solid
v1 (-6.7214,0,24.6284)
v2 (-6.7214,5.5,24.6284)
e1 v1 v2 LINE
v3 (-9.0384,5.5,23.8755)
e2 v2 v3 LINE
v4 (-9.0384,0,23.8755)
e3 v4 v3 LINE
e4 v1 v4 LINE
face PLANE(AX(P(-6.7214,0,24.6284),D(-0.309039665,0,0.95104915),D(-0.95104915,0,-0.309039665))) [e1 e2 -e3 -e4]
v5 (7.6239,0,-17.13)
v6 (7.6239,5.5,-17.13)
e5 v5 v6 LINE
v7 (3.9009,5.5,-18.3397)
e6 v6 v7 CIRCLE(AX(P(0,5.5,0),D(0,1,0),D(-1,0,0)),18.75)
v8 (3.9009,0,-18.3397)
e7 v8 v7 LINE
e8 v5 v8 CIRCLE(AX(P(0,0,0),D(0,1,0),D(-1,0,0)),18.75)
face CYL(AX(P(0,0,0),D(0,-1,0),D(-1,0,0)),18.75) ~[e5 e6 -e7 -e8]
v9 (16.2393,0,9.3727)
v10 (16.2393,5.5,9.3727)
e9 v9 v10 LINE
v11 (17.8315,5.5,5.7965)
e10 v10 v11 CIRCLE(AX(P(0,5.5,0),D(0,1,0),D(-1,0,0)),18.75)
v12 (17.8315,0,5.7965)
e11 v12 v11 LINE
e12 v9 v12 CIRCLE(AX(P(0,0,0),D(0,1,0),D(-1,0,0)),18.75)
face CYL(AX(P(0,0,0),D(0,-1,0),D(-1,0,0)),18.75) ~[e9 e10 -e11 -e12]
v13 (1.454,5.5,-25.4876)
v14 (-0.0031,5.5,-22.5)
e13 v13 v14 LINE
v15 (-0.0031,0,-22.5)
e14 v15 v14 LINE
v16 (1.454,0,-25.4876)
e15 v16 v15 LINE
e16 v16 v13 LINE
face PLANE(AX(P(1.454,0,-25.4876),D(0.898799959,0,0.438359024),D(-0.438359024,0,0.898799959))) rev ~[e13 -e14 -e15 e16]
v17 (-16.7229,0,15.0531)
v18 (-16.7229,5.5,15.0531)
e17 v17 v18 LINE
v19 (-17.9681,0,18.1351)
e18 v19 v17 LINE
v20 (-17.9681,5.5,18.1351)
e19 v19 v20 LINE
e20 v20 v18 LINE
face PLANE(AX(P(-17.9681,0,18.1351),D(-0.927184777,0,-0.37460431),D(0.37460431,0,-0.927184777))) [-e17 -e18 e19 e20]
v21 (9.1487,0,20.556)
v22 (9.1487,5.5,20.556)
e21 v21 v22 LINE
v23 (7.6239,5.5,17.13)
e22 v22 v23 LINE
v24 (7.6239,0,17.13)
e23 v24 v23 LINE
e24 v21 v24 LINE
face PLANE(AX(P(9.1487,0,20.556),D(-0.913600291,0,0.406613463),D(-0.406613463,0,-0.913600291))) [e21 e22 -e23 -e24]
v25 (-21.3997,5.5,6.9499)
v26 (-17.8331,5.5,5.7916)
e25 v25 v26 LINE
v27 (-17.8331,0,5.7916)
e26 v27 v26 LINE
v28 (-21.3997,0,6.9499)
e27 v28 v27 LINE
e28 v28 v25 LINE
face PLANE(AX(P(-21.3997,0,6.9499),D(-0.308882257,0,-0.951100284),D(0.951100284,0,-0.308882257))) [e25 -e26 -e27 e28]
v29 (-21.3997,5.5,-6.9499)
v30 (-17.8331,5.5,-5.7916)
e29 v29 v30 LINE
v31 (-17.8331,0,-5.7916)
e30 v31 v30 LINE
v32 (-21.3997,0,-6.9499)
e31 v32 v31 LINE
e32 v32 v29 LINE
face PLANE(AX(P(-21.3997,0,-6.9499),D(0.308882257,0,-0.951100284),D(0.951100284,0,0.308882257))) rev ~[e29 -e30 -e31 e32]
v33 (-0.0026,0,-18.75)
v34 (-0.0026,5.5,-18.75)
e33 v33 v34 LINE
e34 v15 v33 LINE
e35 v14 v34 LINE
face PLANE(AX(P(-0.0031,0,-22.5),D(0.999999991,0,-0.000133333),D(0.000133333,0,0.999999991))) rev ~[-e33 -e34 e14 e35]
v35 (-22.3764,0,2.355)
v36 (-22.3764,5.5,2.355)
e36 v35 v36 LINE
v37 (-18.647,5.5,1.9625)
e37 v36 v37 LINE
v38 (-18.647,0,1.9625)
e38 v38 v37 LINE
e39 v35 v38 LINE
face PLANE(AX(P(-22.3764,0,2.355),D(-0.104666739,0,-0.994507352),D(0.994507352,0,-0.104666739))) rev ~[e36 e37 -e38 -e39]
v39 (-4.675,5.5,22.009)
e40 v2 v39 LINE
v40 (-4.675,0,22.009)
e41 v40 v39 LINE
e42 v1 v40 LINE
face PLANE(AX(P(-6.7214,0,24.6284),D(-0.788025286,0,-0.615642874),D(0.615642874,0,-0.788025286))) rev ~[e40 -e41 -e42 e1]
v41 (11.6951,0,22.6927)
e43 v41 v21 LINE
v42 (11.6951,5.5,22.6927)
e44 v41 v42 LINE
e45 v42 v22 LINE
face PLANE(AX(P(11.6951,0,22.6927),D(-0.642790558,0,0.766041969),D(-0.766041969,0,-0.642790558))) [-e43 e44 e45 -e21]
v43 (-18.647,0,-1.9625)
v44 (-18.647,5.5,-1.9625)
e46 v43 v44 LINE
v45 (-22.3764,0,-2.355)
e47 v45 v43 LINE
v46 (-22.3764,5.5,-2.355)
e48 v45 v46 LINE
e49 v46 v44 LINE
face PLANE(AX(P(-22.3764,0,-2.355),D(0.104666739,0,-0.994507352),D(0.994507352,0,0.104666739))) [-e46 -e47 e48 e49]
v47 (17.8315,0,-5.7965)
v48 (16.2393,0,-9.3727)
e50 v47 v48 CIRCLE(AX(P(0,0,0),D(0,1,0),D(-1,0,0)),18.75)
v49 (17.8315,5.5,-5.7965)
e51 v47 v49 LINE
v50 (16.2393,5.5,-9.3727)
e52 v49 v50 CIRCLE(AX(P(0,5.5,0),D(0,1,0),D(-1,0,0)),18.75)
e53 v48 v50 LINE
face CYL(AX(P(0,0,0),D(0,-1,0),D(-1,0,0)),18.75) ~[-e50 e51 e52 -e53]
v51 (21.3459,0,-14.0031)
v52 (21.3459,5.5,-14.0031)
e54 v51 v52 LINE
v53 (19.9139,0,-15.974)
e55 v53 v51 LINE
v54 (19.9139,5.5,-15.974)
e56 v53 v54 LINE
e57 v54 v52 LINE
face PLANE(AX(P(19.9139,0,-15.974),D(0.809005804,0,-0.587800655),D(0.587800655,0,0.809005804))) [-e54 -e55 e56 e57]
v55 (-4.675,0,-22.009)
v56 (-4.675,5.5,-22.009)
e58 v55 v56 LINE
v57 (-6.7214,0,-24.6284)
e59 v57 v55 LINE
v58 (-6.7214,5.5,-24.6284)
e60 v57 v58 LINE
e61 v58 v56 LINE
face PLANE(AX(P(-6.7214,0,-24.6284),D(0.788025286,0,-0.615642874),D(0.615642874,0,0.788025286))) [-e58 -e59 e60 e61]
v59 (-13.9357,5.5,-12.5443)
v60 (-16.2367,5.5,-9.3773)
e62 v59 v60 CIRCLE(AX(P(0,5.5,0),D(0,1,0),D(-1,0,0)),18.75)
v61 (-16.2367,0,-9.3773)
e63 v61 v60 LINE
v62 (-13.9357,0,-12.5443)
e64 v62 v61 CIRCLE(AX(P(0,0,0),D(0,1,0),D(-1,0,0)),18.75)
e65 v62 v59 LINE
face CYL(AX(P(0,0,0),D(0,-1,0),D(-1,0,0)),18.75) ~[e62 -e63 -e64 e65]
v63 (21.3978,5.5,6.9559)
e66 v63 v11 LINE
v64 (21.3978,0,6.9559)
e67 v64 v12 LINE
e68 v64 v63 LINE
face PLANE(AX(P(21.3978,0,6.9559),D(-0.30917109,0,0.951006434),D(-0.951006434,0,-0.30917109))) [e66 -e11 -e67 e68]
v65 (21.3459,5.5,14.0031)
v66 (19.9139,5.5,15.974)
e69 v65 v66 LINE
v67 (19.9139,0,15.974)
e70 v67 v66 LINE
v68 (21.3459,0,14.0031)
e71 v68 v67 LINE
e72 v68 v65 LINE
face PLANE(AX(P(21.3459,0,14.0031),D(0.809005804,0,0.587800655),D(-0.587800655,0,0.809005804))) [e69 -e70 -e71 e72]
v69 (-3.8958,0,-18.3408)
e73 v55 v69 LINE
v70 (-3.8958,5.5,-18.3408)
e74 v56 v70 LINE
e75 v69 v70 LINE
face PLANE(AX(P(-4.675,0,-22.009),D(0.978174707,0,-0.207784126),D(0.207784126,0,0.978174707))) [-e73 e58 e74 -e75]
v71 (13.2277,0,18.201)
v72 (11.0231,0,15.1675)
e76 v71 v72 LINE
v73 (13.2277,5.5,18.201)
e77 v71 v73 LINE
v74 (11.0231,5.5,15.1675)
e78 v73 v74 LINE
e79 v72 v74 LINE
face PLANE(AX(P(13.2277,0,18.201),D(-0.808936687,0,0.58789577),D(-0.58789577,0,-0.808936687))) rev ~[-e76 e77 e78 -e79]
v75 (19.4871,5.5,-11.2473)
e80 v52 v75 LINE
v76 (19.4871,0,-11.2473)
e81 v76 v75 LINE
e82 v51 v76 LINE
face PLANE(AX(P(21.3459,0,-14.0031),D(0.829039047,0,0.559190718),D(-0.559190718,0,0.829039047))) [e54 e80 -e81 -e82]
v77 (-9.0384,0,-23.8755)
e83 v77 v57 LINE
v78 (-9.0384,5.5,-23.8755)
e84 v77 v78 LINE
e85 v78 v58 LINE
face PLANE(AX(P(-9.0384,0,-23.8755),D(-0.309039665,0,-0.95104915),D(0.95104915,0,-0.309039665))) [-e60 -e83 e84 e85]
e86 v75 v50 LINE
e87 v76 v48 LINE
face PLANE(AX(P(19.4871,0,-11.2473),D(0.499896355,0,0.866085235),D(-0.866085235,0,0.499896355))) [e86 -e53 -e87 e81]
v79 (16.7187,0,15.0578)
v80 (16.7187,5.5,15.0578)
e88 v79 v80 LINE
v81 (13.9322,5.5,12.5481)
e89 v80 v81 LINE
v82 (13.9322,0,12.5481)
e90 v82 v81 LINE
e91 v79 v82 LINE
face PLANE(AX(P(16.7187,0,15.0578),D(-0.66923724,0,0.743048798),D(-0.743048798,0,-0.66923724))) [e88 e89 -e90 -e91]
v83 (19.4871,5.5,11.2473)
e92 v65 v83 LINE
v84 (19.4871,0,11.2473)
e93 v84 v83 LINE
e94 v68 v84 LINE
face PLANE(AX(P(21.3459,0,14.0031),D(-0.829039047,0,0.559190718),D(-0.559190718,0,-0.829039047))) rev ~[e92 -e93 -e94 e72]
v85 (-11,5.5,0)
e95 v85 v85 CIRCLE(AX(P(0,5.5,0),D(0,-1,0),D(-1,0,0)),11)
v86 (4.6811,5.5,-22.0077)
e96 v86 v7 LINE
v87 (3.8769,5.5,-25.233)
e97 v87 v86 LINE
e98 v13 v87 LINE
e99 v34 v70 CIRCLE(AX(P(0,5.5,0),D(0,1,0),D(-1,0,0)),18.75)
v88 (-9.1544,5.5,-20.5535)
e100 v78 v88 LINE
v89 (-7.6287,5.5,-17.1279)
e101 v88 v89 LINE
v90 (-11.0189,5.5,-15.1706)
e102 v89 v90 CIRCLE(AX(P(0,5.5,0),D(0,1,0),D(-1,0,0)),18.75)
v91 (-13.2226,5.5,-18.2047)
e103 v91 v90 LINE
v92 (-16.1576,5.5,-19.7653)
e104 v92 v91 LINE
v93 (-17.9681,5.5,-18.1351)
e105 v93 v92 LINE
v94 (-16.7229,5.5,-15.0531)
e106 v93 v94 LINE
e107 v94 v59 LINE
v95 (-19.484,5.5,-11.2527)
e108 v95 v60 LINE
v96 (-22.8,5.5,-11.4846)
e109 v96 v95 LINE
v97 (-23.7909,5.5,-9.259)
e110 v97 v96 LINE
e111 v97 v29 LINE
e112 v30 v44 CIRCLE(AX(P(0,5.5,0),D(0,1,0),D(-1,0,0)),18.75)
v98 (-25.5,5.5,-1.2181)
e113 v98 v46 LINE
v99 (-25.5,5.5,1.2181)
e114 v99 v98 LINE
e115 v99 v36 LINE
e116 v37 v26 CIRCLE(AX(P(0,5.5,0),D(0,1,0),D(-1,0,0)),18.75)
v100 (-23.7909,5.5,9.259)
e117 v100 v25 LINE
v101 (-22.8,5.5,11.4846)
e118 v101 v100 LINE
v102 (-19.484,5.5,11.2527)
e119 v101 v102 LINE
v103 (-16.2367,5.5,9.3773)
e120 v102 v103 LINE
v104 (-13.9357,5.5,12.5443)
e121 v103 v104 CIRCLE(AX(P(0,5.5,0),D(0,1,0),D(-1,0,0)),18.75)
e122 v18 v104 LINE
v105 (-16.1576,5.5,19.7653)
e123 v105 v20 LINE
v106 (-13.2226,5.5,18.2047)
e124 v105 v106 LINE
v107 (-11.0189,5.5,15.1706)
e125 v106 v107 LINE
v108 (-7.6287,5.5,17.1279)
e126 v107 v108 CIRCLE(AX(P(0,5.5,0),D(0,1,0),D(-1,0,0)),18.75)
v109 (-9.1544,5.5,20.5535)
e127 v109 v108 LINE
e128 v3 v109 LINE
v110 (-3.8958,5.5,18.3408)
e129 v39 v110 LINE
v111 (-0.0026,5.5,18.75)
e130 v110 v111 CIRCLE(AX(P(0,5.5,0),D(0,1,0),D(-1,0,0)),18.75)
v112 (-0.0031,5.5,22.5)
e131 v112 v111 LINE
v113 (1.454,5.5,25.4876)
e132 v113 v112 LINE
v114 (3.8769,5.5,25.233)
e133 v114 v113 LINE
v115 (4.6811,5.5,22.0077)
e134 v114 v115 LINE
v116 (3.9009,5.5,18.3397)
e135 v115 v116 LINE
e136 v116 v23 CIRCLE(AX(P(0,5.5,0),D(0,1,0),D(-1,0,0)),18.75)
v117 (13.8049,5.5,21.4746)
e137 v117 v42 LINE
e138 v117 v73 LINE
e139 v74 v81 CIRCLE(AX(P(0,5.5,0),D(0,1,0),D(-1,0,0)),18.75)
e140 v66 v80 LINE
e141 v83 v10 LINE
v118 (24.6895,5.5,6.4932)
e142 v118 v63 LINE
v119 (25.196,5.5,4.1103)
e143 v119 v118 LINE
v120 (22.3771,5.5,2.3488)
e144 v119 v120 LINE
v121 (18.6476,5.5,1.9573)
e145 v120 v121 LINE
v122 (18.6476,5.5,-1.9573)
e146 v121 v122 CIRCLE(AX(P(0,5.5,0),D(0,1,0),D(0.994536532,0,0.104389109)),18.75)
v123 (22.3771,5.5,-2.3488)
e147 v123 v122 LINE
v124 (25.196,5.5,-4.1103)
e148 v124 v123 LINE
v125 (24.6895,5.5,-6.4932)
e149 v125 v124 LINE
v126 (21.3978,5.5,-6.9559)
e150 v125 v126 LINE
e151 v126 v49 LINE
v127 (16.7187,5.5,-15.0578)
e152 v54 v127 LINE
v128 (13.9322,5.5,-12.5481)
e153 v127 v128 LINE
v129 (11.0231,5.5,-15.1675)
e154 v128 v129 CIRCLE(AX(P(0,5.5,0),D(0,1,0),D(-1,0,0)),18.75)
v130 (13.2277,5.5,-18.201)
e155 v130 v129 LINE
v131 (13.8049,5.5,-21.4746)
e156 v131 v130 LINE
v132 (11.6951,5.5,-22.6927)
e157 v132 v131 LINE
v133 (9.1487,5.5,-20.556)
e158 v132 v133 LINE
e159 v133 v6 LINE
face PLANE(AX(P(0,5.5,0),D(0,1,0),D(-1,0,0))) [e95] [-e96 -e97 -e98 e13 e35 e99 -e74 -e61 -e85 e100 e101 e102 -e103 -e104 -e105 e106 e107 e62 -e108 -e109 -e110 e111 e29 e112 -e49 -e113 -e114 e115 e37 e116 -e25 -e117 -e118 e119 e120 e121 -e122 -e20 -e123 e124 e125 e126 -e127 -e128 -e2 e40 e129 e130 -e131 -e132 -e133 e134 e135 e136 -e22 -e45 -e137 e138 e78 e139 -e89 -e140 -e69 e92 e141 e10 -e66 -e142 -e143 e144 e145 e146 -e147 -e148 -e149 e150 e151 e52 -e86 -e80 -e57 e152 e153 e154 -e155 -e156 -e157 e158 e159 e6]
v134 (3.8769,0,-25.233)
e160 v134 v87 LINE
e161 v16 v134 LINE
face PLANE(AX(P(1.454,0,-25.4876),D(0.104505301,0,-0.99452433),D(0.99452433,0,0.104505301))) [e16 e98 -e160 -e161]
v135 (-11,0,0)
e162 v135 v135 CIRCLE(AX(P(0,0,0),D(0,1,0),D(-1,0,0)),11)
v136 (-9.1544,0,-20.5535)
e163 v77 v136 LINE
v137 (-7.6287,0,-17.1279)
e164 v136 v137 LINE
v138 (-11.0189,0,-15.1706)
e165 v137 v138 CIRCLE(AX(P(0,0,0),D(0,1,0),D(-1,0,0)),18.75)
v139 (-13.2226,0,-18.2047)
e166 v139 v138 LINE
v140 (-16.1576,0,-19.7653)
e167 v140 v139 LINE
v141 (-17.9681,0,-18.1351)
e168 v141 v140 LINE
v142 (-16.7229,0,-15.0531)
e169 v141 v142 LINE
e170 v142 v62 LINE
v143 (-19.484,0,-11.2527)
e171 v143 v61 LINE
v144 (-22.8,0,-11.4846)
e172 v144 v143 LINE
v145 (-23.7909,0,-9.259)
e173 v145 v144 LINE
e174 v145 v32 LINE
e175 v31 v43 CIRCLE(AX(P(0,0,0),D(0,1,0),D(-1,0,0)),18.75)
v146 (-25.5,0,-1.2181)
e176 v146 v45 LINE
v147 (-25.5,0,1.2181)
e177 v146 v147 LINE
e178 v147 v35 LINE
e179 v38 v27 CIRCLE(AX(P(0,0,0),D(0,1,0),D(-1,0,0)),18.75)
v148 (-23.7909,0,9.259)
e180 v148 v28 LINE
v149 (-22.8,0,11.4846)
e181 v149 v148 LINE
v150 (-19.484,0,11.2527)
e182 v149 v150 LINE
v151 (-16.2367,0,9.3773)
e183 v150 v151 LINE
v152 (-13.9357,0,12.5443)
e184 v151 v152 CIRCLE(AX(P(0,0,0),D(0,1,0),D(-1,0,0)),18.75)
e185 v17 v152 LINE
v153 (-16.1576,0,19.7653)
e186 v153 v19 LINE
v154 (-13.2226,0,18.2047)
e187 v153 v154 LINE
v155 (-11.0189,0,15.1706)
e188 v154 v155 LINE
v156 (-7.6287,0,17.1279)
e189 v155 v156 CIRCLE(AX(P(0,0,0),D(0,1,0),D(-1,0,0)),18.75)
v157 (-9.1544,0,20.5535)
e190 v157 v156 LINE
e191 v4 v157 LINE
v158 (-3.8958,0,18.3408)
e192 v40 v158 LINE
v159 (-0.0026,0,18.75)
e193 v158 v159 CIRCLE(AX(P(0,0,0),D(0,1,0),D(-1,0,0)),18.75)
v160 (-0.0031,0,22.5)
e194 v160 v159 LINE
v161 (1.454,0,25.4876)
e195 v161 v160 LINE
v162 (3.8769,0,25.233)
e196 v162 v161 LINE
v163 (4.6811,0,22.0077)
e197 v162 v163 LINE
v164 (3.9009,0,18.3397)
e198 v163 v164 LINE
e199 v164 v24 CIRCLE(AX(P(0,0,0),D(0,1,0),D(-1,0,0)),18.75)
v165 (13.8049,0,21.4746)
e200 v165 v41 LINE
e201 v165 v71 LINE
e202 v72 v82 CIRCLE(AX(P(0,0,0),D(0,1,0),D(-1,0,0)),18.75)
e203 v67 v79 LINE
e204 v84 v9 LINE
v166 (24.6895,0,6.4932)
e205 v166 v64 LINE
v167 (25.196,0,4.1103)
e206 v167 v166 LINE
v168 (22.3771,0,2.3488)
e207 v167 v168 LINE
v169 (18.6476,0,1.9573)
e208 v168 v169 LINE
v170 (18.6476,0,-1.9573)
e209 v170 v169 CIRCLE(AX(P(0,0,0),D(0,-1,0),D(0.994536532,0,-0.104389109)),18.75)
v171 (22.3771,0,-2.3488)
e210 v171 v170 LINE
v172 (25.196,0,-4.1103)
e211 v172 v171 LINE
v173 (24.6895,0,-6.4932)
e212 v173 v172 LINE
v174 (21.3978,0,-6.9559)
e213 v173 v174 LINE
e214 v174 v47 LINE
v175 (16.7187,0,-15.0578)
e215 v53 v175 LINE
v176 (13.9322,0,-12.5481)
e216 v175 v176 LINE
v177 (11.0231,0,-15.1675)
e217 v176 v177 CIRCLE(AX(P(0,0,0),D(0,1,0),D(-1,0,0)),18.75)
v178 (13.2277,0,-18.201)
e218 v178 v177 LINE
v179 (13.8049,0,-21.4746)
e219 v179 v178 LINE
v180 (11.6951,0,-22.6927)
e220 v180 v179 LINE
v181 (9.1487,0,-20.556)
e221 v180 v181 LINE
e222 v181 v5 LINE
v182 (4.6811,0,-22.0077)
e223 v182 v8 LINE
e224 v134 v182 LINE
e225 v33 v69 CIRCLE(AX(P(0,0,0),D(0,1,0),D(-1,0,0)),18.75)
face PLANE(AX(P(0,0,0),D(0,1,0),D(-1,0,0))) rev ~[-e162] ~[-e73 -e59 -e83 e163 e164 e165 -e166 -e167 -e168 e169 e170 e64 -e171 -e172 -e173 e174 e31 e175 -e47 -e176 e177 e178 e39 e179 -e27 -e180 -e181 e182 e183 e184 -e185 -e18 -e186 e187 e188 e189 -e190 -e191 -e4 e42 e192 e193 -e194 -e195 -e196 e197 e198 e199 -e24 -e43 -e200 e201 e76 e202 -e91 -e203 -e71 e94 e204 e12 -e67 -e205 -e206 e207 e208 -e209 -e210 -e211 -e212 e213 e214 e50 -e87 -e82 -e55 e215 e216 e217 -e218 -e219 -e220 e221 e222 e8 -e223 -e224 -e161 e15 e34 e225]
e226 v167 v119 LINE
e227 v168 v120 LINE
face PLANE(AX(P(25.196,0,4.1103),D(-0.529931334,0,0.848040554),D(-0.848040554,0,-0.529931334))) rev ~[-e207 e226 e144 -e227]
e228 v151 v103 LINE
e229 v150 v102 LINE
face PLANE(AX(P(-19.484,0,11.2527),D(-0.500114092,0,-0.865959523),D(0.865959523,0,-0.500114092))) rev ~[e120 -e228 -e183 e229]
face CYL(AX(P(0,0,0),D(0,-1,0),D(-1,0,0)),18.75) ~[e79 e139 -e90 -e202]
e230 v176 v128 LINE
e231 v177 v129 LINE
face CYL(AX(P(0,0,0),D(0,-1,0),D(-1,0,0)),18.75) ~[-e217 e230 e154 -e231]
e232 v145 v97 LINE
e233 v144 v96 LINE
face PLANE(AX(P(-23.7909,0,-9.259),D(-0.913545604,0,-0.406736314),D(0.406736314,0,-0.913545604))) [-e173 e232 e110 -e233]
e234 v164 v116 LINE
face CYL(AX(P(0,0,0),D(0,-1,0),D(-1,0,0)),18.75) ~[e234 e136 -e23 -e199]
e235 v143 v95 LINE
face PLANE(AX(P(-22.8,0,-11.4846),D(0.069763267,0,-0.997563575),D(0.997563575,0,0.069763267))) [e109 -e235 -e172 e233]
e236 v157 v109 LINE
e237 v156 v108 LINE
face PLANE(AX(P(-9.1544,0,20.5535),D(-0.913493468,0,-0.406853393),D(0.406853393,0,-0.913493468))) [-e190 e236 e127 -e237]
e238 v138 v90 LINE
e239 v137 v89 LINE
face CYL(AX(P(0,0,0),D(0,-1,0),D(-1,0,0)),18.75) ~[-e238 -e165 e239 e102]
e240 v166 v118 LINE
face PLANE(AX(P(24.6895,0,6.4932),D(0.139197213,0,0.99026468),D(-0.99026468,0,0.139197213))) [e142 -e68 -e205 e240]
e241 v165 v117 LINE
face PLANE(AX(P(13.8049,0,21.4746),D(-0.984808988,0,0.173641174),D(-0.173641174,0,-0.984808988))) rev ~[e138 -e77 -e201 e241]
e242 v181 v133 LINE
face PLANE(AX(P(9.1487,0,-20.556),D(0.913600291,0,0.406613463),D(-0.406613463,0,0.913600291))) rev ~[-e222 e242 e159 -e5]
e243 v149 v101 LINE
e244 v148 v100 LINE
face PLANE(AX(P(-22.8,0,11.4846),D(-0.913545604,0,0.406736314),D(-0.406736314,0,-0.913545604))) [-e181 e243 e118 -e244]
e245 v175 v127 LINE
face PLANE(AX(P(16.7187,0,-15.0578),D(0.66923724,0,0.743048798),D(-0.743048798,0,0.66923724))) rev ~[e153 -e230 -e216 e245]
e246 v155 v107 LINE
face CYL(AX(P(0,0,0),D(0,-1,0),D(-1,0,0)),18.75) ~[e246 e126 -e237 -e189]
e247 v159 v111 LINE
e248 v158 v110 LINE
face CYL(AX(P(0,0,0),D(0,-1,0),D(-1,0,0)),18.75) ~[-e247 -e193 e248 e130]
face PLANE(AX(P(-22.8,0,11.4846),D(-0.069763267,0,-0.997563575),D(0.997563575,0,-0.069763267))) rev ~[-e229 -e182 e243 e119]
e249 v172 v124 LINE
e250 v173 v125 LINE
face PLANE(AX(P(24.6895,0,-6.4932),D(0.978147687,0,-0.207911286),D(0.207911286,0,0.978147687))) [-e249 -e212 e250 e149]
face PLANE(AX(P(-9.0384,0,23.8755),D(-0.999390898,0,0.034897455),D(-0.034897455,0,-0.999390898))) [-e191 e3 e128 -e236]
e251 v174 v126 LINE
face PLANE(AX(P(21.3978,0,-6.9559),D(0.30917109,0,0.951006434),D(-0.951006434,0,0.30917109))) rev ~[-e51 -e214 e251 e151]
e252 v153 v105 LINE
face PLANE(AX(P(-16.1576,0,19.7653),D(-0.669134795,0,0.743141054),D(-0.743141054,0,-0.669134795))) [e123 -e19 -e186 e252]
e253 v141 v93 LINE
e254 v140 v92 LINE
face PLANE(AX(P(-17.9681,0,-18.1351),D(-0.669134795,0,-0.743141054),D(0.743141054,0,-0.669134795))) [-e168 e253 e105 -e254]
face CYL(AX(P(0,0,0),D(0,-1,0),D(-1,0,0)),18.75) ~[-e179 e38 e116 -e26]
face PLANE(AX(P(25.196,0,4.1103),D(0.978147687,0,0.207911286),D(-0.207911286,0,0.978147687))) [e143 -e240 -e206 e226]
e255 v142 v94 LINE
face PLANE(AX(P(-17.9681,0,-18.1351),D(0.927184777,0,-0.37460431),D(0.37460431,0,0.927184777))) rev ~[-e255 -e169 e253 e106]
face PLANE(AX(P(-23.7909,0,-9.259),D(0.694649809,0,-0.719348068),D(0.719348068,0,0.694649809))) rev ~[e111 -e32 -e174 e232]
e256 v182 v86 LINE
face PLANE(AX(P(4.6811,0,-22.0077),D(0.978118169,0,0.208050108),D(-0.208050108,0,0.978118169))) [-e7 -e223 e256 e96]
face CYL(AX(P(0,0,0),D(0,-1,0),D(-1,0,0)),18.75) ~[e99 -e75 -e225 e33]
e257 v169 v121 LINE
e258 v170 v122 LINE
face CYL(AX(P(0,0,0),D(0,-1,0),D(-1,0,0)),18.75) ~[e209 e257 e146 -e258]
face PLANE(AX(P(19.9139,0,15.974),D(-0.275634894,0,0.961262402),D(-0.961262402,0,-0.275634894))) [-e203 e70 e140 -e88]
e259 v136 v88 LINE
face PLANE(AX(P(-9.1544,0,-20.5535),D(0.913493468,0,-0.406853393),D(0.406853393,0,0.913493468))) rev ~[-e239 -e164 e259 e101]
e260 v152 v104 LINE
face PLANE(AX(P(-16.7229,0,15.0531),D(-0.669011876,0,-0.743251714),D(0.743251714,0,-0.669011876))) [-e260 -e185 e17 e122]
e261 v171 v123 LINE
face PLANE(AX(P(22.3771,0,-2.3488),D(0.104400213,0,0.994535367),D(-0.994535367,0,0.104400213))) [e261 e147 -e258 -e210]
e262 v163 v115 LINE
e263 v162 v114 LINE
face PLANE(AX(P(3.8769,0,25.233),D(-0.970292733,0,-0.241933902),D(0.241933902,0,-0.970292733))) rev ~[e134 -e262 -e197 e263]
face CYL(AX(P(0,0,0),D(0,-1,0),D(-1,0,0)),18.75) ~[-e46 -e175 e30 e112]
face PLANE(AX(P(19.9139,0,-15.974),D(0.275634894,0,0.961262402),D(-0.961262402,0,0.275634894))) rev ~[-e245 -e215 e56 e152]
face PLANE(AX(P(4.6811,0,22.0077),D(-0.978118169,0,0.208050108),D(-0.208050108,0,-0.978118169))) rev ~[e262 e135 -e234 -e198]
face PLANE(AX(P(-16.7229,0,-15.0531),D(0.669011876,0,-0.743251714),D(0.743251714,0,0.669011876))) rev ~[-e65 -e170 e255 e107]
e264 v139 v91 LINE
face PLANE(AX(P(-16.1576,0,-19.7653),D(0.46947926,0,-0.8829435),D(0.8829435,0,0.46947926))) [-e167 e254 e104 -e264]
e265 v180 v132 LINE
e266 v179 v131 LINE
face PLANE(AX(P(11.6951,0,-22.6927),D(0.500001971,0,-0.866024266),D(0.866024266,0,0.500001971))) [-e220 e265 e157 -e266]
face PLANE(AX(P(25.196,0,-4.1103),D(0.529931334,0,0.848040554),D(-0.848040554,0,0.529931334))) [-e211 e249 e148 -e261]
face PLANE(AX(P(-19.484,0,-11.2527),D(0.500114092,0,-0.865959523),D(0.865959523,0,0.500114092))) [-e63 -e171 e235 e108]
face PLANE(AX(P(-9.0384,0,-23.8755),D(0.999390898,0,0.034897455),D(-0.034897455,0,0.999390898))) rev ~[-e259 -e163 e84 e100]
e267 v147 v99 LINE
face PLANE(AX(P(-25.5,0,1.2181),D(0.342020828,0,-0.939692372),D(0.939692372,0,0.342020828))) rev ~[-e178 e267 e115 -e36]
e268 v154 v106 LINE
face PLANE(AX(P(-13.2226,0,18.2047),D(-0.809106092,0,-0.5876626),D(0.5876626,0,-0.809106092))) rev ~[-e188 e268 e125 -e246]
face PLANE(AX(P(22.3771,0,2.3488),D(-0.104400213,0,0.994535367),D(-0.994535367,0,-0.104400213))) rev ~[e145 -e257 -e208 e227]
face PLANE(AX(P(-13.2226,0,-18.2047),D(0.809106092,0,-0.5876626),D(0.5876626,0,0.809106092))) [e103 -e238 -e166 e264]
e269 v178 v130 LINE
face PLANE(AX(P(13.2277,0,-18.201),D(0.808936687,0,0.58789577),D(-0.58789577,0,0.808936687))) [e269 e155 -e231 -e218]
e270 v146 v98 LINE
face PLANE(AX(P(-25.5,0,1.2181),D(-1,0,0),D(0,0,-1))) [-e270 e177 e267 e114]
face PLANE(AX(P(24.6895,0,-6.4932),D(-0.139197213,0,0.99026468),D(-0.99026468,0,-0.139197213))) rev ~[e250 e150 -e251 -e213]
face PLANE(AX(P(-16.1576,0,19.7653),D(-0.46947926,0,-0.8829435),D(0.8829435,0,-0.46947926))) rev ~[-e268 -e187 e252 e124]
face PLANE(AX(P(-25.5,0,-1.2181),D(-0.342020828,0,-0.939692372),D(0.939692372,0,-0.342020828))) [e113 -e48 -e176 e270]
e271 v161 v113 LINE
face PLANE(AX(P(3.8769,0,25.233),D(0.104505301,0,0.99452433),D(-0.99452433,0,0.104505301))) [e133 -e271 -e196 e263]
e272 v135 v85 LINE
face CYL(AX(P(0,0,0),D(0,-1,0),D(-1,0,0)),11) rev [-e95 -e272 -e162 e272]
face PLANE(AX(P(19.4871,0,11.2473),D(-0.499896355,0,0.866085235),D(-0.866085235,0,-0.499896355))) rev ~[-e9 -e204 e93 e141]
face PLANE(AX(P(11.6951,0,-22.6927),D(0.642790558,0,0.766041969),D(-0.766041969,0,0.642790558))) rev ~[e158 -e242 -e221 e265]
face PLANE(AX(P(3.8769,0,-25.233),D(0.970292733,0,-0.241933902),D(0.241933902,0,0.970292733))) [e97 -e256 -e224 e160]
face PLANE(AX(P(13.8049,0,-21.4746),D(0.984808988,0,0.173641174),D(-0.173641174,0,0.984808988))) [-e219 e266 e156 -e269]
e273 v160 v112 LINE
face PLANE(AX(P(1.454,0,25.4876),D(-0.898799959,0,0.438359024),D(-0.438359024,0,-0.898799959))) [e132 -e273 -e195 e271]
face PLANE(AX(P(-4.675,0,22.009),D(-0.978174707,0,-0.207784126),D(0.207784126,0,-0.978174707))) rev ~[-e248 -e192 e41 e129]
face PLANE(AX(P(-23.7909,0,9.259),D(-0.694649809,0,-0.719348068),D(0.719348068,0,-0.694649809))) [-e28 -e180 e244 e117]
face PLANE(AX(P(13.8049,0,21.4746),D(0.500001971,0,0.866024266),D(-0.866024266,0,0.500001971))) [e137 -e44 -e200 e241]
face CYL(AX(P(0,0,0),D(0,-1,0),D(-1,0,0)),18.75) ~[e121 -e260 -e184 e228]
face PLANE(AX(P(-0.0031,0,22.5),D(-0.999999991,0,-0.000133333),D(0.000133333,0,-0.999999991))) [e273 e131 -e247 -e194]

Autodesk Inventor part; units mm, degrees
ref_plane "YZ Plane" through (0, 0, 0) normal (1, 0, 0) x (0, 1, 0)
ref_plane "XZ Plane" through (0, 0, 0) normal (0, 1, 0) x (-1, 0, 0)
ref_plane "XY Plane" through (0, 0, 0) normal (0, 0, 1) x (1, 0, 0)
sketch "スケッチ1" plane through (0, 0, 0) normal (0, 1, 0) x (-1, 0, 0)
  circle A0 centre (0, 0) radius 22.5 construction
  circle A1 centre (0, 0) radius 25.5 construction
  line L0 (25.5, 1.2181) -> (25.5, -1.2181)
  line L1 (25.5, 1.2181) -> (22.3764, 2.355)
  line L2 (25.5, -1.2181) -> (22.3764, -2.355)
  line L3 (35.7, 0) -> (-35.7, 0) projected
  circle A2 centre (0, 0) radius 18.75
  line L4 (22.3764, -2.355) -> (18.647, -1.9625)
  line L5 (22.3764, 2.355) -> (18.647, 1.9625)
  line L6 (19.484, 11.2527) -> (16.2367, 9.3773)
  line L7 (22.8, 11.4846) -> (19.484, 11.2527)
  line L8 (22.8, 11.4846) -> (23.7909, 9.259)
  line L9 (23.7909, 9.259) -> (21.3997, 6.9499)
  line L10 (21.3997, 6.9499) -> (17.8331, 5.7916)
  line L11 (13.2226, 18.2047) -> (11.0189, 15.1706)
  line L12 (16.1576, 19.7653) -> (13.2226, 18.2047)
  line L13 (16.1576, 19.7653) -> (17.9681, 18.1351)
  line L14 (17.9681, 18.1351) -> (16.7229, 15.0531)
  line L15 (16.7229, 15.0531) -> (13.9357, 12.5443)
  line L16 (4.675, 22.009) -> (3.8958, 18.3408)
  line L17 (6.7214, 24.6284) -> (4.675, 22.009)
  line L18 (6.7214, 24.6284) -> (9.0384, 23.8755)
  line L19 (9.0384, 23.8755) -> (9.1544, 20.5535)
  line L20 (9.1544, 20.5535) -> (7.6287, 17.1279)
  line L21 (-4.6811, 22.0077) -> (-3.9009, 18.3397)
  line L22 (-3.8769, 25.233) -> (-4.6811, 22.0077)
  line L23 (-3.8769, 25.233) -> (-1.454, 25.4876)
  line L24 (-1.454, 25.4876) -> (0.0031, 22.5)
  line L25 (0.0031, 22.5) -> (0.0026, 18.75)
  line L26 (-13.2277, 18.201) -> (-11.0231, 15.1675)
  line L27 (-13.8049, 21.4746) -> (-13.2277, 18.201)
  line L28 (-13.8049, 21.4746) -> (-11.6951, 22.6927)
  line L29 (-11.6951, 22.6927) -> (-9.1487, 20.556)
  line L30 (-9.1487, 20.556) -> (-7.6239, 17.13)
  line L31 (-19.4871, 11.2473) -> (-16.2393, 9.3727)
  line L32 (-21.3459, 14.0031) -> (-19.4871, 11.2473)
  line L33 (-21.3459, 14.0031) -> (-19.9139, 15.974)
  line L34 (-19.9139, 15.974) -> (-16.7187, 15.0578)
  line L35 (-16.7187, 15.0578) -> (-13.9322, 12.5481)
  line L36 (-22.3771, 2.3488) -> (-18.6476, 1.9573)
  line L37 (-25.196, 4.1103) -> (-22.3771, 2.3488)
  line L38 (-25.196, 4.1103) -> (-24.6895, 6.4932)
  line L39 (-24.6895, 6.4932) -> (-21.3978, 6.9559)
  line L40 (-21.3978, 6.9559) -> (-17.8315, 5.7965)
  line L41 (-21.3978, -6.9559) -> (-17.8315, -5.7965)
  line L42 (-24.6895, -6.4932) -> (-21.3978, -6.9559)
  line L43 (-24.6895, -6.4932) -> (-25.196, -4.1103)
  line L44 (-25.196, -4.1103) -> (-22.3771, -2.3488)
  line L45 (-22.3771, -2.3488) -> (-18.6476, -1.9573)
  line L46 (-16.7187, -15.0578) -> (-13.9322, -12.5481)
  line L47 (-19.9139, -15.974) -> (-16.7187, -15.0578)
  line L48 (-19.9139, -15.974) -> (-21.3459, -14.0031)
  line L49 (-21.3459, -14.0031) -> (-19.4871, -11.2473)
  line L50 (-19.4871, -11.2473) -> (-16.2393, -9.3727)
  line L51 (-9.1487, -20.556) -> (-7.6239, -17.13)
  line L52 (-11.6951, -22.6927) -> (-9.1487, -20.556)
  line L53 (-11.6951, -22.6927) -> (-13.8049, -21.4746)
  line L54 (-13.8049, -21.4746) -> (-13.2277, -18.201)
  line L55 (-13.2277, -18.201) -> (-11.0231, -15.1675)
  line L56 (0.0031, -22.5) -> (0.0026, -18.75)
  line L57 (-1.454, -25.4876) -> (0.0031, -22.5)
  line L58 (-1.454, -25.4876) -> (-3.8769, -25.233)
  line L59 (-3.8769, -25.233) -> (-4.6811, -22.0077)
  line L60 (-4.6811, -22.0077) -> (-3.9009, -18.3397)
  line L61 (9.1544, -20.5535) -> (7.6287, -17.1279)
  line L62 (9.0384, -23.8755) -> (9.1544, -20.5535)
  line L63 (9.0384, -23.8755) -> (6.7214, -24.6284)
  line L64 (6.7214, -24.6284) -> (4.675, -22.009)
  line L65 (4.675, -22.009) -> (3.8958, -18.3408)
  line L66 (16.7229, -15.0531) -> (13.9357, -12.5443)
  line L67 (17.9681, -18.1351) -> (16.7229, -15.0531)
  line L68 (17.9681, -18.1351) -> (16.1576, -19.7653)
  line L69 (16.1576, -19.7653) -> (13.2226, -18.2047)
  line L70 (13.2226, -18.2047) -> (11.0189, -15.1706)
  line L71 (21.3997, -6.9499) -> (17.8331, -5.7916)
  line L72 (23.7909, -9.259) -> (21.3997, -6.9499)
  line L73 (23.7909, -9.259) -> (22.8, -11.4846)
  line L74 (22.8, -11.4846) -> (19.484, -11.2527)
  line L75 (19.484, -11.2527) -> (16.2367, -9.3773)
  circle A3 centre (0, 0) radius 11
  point P0 (25.5, 0)
  point P1 (23.2954, 10.3718)
  point P2 (17.0628, 18.9502)
  point P3 (7.8799, 24.2519)
  point P4 (-2.6655, 25.3603)
  point P5 (-12.75, 22.0836)
  point P6 (-20.6299, 14.9885)
  point P7 (-24.9428, 5.3017)
  point P8 (-24.9428, -5.3017)
  point P9 (-20.6299, -14.9885)
  point P10 (-12.75, -22.0836)
  point P11 (-2.6655, -25.3603)
  point P12 (7.8799, -24.2519)
  point P13 (17.0628, -18.9502)
  point P14 (23.2954, -10.3718)
  point P15 (17.8331, 5.7916)
  point P16 (16.2367, 9.3773)
  point P17 (13.9357, 12.5443)
  point P18 (11.0189, 15.1706)
  point P19 (7.6287, 17.1279)
  point P20 (3.8958, 18.3408)
  point P21 (0.0026, 18.75)
  point P22 (-3.9009, 18.3397)
  point P23 (-7.6239, 17.13)
  point P24 (-11.0231, 15.1675)
  point P25 (-13.9322, 12.5481)
  point P26 (-16.2393, 9.3727)
  point P27 (-17.8315, 5.7965)
  point P28 (-18.6476, 1.9573)
  point P29 (-18.6476, -1.9573)
  point P30 (-17.8315, -5.7965)
  point P31 (-16.2393, -9.3727)
  point P32 (-13.9322, -12.5481)
  point P33 (-11.0231, -15.1675)
  point P34 (-7.6239, -17.13)
  point P35 (-3.9009, -18.3397)
  point P36 (0.0026, -18.75)
  point P37 (3.8958, -18.3408)
  point P38 (7.6287, -17.1279)
  point P39 (11.0189, -15.1706)
  point P40 (13.9357, -12.5443)
  point P41 (16.2367, -9.3773)
  point P42 (17.8331, -5.7916)
  dimension "d5" = 37.5
  dimension "d0" = 45
  dimension "d1" = 51
  dimension "d3" = 20
  dimension "d4" = 20
  dimension "d14" = 4.71
  dimension "d18" = 360
  dimension "d23" = 22
extrude "押し出し1" add sketch "スケッチ1" along normal blind 5.5 contours L0 L3 A2 L5 L1 | L0 L2 L4 A2 L3 | A2 L3 A3 | L3 A3 A2 | A2 L6 L7 L8 L9 L10 | L71 L72 L73 L74 L75 A2 | A2 L11 L12 L13 L14 L15 | L36 L37 L38 L39 L40 A2 | A2 L41 L42 L43 L44 L45 | L66 L67 L68 L69 L70 A2 | A2 L16 L17 L18 L19 L20 | L31 L32 L33 L34 L35 A2 | A2 L46 L47 L48 L49 L50 | L61 L62 L63 L64 L65 A2 | A2 L21 L22 L23 L24 L25 | L26 L27 L28 L29 L30 A2 | A2 L51 L52 L53 L54 L55 | L56 L57 L58 L59 L60 A2
properties part number "M3_15"
